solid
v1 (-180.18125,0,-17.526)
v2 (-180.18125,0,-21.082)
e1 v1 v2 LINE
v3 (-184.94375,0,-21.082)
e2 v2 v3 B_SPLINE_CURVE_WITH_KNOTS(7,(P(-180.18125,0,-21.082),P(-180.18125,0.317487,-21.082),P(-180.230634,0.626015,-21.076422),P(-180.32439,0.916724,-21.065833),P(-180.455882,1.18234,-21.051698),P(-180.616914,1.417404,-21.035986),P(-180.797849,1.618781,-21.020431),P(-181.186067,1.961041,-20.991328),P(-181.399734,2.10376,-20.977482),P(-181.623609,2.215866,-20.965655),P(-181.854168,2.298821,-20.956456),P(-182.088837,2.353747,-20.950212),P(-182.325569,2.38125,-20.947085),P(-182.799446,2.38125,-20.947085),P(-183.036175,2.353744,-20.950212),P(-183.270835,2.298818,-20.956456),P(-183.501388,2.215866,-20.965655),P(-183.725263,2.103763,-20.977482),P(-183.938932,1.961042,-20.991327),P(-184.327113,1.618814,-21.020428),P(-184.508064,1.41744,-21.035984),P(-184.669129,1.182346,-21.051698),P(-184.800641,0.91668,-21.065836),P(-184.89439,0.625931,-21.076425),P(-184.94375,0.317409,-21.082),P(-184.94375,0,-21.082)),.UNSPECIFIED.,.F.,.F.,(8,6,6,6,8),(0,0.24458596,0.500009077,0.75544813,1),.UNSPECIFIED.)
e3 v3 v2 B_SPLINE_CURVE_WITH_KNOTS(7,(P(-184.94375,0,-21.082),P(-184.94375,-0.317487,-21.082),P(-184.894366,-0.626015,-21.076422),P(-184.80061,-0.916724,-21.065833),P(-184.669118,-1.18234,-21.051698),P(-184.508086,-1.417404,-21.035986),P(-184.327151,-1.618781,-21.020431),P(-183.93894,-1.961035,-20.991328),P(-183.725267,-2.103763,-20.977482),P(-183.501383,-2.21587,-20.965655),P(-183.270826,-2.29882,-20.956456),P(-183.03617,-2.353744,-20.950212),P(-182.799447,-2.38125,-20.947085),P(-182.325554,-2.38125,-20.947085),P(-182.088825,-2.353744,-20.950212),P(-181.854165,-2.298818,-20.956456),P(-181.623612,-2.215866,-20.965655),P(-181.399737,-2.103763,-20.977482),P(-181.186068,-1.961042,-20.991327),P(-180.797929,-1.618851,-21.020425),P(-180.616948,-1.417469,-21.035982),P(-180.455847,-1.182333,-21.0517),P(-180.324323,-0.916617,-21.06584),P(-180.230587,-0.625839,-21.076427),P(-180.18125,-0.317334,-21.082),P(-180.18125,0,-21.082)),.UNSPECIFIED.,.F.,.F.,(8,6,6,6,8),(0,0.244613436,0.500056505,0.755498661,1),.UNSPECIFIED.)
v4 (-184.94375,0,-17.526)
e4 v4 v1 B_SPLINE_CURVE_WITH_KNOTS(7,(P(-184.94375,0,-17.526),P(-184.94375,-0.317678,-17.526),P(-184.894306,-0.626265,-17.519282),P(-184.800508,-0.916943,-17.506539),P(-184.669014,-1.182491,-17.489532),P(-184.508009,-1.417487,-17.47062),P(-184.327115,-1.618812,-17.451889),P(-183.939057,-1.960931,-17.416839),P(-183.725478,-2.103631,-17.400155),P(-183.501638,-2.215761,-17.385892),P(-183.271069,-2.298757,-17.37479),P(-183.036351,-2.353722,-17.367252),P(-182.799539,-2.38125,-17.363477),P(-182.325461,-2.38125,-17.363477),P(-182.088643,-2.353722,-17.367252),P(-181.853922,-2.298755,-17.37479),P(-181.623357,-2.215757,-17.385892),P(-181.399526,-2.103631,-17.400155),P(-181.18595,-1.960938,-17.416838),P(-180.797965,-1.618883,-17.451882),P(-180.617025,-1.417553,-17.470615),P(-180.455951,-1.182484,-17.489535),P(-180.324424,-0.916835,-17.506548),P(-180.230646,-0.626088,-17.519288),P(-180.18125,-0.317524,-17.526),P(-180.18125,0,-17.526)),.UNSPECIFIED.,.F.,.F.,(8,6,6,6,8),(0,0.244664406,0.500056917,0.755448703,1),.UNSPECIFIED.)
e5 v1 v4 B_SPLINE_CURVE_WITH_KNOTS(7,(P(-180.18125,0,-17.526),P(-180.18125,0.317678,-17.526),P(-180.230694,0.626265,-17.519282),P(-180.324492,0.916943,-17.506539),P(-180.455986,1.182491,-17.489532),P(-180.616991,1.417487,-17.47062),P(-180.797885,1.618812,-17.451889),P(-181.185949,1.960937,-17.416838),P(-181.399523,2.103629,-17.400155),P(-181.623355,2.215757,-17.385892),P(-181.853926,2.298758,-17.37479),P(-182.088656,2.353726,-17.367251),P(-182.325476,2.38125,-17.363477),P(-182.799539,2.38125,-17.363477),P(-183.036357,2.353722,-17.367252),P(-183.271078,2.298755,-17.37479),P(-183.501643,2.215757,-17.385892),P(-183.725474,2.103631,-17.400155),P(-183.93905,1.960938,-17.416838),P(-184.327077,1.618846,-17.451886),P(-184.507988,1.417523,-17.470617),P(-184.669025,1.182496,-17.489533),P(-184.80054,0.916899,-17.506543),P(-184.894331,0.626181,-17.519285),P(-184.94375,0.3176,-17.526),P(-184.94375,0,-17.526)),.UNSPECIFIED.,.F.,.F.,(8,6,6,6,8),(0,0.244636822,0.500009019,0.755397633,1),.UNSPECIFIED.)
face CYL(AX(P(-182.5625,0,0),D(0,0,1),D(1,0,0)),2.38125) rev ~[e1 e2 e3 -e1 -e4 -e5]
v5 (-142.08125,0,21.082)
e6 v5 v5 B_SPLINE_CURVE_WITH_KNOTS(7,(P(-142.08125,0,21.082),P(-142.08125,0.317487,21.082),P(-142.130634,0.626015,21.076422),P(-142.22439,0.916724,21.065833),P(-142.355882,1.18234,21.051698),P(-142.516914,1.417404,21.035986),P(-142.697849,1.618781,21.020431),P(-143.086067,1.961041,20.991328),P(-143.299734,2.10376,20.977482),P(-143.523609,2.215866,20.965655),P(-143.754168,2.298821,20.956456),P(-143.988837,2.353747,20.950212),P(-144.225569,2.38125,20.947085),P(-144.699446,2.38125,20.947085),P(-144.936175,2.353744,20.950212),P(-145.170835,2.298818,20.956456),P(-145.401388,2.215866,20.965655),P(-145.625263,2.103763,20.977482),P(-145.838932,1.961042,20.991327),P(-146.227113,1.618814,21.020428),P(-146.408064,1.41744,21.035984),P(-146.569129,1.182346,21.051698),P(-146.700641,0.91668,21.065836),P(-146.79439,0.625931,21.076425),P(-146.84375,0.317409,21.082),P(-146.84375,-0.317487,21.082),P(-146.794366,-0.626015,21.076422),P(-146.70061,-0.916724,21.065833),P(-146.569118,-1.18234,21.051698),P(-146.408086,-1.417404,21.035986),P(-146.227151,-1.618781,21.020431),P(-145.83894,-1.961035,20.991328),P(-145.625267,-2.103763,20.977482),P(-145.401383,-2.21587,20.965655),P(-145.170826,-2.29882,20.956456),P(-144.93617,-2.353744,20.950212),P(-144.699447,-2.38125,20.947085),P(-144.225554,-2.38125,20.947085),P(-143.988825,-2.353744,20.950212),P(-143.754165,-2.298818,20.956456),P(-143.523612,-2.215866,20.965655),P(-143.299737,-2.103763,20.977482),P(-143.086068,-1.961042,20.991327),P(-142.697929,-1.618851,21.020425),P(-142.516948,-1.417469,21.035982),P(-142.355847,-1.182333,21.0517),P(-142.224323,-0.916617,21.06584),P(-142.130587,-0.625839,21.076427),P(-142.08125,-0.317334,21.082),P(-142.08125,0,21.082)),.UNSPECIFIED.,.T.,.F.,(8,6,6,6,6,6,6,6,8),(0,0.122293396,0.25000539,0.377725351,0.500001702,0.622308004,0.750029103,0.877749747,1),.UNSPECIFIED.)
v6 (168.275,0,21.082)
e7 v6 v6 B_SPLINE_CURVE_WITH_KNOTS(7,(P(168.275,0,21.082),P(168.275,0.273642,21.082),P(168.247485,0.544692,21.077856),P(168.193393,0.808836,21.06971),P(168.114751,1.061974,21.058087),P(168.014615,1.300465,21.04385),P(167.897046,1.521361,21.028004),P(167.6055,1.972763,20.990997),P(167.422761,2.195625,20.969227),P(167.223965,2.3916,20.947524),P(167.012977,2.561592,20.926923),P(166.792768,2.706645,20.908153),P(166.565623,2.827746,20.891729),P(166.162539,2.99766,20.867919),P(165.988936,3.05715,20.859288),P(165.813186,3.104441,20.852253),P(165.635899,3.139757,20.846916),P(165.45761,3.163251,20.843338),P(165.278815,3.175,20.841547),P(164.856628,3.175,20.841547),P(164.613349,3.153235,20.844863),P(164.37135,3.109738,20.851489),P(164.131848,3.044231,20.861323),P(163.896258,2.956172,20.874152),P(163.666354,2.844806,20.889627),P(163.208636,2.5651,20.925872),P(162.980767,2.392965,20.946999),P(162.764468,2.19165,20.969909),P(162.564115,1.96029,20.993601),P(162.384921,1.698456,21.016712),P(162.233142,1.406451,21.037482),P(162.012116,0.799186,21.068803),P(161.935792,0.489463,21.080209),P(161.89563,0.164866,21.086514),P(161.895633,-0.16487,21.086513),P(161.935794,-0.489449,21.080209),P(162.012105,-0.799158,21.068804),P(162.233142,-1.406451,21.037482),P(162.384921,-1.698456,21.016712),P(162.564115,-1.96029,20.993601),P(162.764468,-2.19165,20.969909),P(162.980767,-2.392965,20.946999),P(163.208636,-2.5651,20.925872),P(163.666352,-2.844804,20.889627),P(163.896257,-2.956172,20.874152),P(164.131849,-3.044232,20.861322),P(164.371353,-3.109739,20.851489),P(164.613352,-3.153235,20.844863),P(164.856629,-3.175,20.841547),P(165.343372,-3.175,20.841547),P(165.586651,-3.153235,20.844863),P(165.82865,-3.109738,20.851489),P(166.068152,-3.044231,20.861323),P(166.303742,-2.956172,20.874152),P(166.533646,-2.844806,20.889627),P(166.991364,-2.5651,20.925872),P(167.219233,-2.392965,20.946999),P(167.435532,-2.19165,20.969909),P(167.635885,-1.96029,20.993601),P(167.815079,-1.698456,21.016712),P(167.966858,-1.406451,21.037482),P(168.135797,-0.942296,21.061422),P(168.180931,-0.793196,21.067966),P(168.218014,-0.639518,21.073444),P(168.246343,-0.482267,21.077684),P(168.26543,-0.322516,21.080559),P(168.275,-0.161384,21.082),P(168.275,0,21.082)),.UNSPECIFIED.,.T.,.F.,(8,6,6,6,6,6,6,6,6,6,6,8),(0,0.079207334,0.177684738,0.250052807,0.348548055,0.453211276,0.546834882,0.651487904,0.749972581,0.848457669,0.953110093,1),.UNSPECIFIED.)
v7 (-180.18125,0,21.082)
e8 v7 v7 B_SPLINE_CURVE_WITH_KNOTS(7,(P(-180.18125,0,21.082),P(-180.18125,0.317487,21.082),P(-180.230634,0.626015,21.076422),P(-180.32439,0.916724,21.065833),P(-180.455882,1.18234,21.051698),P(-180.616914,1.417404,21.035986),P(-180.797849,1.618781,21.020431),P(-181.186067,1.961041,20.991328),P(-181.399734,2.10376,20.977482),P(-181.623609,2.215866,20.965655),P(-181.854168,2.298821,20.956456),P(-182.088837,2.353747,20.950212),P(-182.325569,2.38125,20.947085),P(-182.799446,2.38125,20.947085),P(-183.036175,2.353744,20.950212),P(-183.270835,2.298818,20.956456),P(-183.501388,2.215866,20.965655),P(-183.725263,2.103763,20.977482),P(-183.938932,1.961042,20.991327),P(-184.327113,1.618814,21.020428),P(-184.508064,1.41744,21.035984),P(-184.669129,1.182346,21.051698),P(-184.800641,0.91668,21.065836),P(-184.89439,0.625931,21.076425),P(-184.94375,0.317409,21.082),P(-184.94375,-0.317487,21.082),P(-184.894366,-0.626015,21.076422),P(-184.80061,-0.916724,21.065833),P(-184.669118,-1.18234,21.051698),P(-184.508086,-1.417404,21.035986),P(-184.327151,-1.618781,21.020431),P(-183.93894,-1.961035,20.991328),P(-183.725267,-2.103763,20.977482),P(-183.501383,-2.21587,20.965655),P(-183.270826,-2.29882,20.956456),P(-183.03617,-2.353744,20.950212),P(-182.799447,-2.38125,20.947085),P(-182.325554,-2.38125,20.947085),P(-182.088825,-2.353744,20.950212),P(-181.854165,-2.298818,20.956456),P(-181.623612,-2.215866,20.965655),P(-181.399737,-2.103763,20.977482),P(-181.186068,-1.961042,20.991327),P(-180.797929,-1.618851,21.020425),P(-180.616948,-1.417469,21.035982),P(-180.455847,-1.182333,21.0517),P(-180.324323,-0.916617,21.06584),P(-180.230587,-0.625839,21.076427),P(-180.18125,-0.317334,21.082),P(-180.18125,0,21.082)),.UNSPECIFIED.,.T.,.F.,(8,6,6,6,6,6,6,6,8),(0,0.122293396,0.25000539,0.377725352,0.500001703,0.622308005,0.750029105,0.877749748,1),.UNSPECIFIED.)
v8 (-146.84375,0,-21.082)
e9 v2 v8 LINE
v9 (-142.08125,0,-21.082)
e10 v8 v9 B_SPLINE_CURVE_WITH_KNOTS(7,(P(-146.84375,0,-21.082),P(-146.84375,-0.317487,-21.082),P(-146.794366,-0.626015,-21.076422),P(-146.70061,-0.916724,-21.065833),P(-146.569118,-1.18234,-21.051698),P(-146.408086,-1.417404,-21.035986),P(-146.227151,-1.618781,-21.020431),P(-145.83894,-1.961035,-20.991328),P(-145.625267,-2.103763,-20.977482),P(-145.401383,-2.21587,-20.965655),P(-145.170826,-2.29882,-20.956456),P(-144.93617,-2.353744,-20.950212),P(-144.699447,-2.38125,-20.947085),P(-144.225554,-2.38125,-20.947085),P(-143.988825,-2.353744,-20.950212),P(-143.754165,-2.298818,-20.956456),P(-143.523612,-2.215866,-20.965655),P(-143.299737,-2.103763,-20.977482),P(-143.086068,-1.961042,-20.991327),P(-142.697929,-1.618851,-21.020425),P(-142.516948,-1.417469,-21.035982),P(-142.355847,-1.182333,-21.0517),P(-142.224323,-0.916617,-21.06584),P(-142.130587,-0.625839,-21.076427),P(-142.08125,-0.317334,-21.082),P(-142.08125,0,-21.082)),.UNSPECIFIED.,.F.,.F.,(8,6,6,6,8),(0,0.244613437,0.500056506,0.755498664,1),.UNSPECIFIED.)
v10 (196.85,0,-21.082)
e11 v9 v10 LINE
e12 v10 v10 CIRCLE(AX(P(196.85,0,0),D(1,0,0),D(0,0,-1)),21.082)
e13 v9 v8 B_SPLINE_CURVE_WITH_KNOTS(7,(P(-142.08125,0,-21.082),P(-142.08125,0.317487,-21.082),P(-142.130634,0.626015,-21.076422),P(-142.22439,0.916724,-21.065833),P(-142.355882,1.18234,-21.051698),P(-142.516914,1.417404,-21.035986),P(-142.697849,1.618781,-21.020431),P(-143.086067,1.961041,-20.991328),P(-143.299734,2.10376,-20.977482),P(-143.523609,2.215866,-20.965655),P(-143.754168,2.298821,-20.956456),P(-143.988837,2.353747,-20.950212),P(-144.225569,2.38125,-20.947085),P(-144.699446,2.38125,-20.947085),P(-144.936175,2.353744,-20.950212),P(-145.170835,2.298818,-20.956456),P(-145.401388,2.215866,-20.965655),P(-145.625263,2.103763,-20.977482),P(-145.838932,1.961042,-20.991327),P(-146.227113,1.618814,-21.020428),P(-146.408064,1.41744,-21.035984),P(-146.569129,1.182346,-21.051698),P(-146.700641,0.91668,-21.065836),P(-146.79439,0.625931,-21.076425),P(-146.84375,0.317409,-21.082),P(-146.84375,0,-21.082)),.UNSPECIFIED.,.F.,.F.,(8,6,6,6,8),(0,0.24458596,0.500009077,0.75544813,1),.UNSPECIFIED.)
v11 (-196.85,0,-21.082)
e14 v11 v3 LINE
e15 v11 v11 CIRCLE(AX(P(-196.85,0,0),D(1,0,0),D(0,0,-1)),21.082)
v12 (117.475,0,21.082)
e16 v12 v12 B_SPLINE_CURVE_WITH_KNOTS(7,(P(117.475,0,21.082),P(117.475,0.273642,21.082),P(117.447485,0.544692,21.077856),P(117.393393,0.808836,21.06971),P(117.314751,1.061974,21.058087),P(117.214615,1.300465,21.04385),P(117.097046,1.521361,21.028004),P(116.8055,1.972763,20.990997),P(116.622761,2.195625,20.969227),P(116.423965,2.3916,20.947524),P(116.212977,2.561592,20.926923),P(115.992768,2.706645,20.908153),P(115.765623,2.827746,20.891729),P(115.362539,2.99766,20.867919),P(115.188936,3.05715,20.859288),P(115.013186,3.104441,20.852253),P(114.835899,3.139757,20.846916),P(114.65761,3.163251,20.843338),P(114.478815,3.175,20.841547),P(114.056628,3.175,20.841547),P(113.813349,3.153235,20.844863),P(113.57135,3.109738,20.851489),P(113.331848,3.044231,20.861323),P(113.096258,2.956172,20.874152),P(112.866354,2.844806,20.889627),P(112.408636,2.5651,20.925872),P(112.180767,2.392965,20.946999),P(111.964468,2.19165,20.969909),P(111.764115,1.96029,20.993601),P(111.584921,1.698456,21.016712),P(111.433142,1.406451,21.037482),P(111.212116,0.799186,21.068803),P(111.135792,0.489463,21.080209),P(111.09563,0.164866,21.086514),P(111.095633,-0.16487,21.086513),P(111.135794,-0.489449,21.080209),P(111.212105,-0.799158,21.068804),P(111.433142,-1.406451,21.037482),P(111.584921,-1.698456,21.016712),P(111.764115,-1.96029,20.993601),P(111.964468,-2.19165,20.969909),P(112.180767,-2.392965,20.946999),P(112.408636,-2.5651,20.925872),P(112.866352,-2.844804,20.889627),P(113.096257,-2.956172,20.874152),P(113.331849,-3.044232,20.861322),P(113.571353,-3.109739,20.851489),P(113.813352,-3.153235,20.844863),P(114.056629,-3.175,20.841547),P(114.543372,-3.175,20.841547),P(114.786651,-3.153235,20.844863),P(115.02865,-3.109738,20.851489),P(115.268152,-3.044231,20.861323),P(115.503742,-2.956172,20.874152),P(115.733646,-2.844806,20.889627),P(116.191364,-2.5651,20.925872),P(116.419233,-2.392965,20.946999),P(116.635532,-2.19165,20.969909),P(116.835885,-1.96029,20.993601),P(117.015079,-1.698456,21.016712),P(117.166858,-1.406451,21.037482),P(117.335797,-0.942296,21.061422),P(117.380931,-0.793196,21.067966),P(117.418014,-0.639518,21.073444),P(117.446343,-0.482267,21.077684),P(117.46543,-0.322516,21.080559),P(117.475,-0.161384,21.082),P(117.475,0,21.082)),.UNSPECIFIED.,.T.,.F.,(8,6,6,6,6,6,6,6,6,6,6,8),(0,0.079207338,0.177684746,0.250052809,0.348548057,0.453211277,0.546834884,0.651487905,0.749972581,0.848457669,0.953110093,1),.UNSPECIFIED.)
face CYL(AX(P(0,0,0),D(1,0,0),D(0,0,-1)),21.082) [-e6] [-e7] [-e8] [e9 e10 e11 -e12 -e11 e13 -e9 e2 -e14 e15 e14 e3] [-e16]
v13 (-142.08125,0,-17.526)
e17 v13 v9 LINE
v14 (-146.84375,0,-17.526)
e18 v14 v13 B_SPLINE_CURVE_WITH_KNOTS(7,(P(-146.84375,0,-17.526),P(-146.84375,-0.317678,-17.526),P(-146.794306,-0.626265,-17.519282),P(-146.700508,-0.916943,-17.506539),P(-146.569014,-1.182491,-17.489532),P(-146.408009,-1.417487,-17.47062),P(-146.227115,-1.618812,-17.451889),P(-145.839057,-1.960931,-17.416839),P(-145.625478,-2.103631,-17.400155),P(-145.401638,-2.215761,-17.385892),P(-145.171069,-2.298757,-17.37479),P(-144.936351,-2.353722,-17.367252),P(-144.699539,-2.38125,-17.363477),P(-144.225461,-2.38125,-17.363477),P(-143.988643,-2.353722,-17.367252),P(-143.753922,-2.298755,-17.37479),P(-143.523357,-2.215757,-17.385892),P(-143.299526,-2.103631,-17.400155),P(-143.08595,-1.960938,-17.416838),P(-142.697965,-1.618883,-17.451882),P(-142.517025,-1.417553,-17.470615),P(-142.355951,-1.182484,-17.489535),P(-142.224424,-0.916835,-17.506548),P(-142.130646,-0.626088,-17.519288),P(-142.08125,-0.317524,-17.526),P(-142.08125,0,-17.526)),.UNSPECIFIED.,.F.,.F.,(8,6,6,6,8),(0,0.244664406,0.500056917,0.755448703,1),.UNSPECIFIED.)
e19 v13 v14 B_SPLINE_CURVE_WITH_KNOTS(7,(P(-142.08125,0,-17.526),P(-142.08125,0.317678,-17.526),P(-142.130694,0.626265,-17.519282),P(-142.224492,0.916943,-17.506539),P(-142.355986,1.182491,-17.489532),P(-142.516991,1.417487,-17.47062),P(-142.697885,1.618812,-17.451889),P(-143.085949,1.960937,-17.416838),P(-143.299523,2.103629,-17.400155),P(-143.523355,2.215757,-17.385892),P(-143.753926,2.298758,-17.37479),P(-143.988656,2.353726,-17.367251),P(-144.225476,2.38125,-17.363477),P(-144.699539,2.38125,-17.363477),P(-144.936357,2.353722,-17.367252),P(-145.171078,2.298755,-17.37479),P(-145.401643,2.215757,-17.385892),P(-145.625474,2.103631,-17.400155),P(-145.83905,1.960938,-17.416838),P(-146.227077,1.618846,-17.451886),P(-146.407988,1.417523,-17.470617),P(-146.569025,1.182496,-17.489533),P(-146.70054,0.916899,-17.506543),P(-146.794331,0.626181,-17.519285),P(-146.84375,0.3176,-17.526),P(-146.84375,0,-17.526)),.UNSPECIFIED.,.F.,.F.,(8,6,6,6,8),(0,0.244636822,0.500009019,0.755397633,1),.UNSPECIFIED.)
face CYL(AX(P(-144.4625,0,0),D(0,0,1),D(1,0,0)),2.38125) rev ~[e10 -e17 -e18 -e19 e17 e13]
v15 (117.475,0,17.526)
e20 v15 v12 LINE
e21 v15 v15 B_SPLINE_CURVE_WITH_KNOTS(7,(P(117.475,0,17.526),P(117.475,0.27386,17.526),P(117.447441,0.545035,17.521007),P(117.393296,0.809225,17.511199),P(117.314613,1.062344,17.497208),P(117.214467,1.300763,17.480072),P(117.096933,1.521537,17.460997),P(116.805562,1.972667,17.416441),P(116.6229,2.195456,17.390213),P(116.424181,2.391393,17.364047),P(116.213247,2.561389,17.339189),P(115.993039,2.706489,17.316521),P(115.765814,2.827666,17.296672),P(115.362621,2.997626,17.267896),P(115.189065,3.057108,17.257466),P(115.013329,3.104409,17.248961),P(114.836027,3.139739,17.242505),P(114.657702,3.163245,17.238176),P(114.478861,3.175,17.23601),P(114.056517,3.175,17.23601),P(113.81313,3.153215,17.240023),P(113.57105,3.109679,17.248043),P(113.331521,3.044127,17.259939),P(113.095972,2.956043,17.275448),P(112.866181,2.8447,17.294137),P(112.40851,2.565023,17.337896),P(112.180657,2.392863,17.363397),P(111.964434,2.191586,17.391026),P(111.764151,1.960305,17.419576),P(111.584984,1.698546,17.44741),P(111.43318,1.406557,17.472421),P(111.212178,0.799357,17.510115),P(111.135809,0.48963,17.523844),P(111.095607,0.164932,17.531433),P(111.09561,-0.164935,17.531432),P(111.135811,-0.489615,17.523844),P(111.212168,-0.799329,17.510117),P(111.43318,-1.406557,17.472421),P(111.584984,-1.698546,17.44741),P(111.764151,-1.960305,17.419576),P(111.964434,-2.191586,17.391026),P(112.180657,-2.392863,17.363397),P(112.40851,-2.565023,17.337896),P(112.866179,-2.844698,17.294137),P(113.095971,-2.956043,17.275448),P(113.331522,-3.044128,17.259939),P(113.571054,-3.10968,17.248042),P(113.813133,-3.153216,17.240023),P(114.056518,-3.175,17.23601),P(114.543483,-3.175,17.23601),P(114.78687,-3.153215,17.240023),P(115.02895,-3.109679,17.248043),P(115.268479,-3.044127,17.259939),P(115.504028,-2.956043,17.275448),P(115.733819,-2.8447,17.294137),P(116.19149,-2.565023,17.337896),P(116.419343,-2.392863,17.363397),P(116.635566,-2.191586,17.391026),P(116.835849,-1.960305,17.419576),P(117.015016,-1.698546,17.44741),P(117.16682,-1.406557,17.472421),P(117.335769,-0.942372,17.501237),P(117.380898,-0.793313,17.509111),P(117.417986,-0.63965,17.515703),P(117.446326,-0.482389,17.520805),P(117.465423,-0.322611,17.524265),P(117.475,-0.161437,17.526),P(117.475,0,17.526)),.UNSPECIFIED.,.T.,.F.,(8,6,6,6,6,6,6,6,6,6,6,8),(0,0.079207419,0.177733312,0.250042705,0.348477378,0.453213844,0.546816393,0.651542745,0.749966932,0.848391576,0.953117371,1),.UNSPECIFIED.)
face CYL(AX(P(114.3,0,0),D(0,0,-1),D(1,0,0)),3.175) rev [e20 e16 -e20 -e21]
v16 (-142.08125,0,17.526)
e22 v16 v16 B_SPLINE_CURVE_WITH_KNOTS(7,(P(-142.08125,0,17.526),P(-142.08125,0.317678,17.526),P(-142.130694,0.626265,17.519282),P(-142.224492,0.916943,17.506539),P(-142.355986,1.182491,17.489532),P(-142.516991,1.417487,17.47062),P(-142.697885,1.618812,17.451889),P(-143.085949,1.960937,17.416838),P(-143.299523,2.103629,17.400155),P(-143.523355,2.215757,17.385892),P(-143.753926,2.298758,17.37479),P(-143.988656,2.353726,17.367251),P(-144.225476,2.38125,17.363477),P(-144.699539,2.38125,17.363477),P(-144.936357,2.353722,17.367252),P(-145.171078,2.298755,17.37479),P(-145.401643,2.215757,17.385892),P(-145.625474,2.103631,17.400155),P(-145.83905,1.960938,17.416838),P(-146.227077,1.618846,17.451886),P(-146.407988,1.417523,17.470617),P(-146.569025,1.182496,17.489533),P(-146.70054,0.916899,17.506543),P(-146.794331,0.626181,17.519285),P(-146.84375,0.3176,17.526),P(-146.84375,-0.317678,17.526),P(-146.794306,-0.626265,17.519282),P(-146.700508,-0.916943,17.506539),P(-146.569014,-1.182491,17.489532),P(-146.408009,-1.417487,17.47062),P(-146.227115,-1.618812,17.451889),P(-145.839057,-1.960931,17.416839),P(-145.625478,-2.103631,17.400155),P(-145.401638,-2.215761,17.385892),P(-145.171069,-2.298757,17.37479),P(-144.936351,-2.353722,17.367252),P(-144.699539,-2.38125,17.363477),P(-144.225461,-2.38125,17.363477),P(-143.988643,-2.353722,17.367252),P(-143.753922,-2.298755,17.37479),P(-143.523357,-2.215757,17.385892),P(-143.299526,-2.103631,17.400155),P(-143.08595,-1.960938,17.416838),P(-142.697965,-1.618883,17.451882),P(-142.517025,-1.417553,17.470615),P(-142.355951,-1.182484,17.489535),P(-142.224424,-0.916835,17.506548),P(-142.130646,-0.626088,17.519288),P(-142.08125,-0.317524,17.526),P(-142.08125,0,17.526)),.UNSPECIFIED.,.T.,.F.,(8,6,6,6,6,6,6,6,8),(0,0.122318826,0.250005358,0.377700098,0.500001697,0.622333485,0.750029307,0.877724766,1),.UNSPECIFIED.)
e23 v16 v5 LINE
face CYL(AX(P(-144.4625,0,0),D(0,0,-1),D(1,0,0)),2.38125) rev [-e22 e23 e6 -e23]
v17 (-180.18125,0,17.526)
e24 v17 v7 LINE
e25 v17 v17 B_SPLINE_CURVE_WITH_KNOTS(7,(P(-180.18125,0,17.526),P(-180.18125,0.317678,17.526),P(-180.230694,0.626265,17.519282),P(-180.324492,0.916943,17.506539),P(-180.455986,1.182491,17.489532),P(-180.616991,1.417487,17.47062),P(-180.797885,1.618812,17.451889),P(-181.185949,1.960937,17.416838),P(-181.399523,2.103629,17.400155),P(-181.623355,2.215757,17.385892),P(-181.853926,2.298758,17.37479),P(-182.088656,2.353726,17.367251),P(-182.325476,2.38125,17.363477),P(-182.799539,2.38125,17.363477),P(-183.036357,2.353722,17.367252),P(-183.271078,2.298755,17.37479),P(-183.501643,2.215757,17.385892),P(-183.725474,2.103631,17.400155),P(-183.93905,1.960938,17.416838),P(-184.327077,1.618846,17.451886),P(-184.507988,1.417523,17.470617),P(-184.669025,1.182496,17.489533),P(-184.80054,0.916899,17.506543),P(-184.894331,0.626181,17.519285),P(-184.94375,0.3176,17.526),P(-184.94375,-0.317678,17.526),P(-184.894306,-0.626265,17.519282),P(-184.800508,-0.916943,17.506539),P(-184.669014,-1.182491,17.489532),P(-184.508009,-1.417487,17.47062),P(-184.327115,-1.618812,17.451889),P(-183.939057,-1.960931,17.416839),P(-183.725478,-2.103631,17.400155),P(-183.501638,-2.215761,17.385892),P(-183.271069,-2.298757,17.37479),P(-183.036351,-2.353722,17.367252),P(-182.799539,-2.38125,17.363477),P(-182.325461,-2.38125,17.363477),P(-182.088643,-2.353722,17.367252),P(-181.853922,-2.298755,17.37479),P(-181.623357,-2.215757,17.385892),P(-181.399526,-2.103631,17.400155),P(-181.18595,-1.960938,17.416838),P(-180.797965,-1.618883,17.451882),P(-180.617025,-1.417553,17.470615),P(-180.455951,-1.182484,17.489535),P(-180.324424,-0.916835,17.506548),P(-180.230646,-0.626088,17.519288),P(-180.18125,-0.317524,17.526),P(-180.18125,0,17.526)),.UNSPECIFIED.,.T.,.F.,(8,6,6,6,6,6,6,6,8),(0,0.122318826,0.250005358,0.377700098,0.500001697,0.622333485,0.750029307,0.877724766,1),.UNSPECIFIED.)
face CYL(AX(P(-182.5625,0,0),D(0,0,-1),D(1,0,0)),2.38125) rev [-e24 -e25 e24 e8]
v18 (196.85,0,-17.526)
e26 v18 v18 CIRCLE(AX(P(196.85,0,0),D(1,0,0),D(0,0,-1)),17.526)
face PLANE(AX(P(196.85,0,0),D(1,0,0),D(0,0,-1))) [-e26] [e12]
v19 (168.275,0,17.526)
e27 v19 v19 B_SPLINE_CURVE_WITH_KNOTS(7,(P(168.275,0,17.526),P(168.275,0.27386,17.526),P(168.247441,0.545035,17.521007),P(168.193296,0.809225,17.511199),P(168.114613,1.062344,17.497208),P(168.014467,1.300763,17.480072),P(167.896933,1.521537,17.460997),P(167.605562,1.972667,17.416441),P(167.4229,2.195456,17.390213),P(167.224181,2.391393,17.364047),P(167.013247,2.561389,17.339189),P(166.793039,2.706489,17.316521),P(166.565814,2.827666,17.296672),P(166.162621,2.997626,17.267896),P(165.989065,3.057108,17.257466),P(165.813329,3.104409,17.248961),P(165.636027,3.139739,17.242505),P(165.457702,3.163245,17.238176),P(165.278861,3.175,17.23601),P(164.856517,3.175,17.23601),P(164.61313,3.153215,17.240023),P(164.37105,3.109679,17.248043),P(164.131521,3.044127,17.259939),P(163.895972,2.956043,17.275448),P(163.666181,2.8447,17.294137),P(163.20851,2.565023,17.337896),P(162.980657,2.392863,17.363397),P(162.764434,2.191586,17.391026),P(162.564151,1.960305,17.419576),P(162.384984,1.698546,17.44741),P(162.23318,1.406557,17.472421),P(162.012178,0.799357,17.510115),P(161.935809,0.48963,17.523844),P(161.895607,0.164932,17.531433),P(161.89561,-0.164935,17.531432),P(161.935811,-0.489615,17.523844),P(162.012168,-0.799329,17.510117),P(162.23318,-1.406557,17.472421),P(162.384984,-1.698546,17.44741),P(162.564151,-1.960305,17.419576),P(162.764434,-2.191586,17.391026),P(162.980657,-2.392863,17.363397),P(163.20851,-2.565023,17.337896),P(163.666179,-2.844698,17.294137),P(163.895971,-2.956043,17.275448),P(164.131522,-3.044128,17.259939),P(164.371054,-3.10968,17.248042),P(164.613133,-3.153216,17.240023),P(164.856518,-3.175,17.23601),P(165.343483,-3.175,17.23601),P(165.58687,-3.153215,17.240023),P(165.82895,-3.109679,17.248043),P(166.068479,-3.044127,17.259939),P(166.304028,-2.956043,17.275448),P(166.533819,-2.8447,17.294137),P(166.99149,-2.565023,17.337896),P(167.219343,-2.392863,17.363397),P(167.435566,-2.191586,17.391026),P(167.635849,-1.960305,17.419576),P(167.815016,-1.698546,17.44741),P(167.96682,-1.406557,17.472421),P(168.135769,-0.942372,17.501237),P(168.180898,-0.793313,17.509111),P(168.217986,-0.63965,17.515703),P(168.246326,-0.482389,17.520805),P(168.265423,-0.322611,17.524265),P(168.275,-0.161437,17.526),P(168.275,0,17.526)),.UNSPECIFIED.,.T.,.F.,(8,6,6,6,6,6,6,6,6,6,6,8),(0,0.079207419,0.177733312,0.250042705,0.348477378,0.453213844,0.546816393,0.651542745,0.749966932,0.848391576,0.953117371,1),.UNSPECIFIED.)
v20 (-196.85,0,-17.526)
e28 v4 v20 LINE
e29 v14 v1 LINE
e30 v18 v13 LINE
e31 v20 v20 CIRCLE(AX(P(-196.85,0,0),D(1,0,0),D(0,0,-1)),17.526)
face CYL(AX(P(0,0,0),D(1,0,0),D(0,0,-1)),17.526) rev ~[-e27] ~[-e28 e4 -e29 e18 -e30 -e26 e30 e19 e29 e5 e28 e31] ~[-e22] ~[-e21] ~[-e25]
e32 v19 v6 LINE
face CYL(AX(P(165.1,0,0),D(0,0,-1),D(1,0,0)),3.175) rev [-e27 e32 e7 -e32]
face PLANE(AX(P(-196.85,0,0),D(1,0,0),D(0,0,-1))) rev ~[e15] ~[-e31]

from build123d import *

# Parameters (mm, degrees)
SKETCH1_R                = 21.082
SKETCH1_R_2              = 17.526
BOSS_EXTRUDE1_DEPTH      = 196.85
BOSS_EXTRUDE1_DEPTH_BACK = 196.85
SKETCH2_R                = 2.38125
CUT_EXTRUDE1_DEPTH       = 22.082
CUT_EXTRUDE1_DEPTH_BACK  = 22.082
SKETCH3_R                = 3.175
CUT_EXTRUDE2_DEPTH       = 22.0820001


with BuildPart() as part:
    # Sketch1 → Boss-Extrude1 (new body, two sides)
    with BuildSketch(Plane(origin=(0, 0, 0), x_dir=(0, 0, -1), z_dir=(1, 0, 0))) as boss_extrude1_sk:
        Circle(SKETCH1_R)
        Circle(SKETCH1_R_2, mode=Mode.SUBTRACT)
    extrude(amount=BOSS_EXTRUDE1_DEPTH)
    extrude(boss_extrude1_sk.sketch, amount=-BOSS_EXTRUDE1_DEPTH_BACK)

    # Sketch2 → Cut-Extrude1 (cut, two sides)
    with BuildSketch(Plane.XY) as cut_extrude1_sk:
        with Locations((-144.4625, 0)):
            Circle(SKETCH2_R)
        with Locations((-182.5625, 0)):
            Circle(SKETCH2_R)
    extrude(amount=CUT_EXTRUDE1_DEPTH, mode=Mode.SUBTRACT)
    extrude(cut_extrude1_sk.sketch, amount=-CUT_EXTRUDE1_DEPTH_BACK, mode=Mode.SUBTRACT)

    # Sketch3 → Cut-Extrude2 (cut, through all)
    with BuildSketch(Plane.XY):
        with Locations((165.1, 0)):
            Circle(SKETCH3_R)
        with Locations((114.3, 0)):
            Circle(SKETCH3_R)
    extrude(amount=CUT_EXTRUDE2_DEPTH, mode=Mode.SUBTRACT)


solid = part.part
